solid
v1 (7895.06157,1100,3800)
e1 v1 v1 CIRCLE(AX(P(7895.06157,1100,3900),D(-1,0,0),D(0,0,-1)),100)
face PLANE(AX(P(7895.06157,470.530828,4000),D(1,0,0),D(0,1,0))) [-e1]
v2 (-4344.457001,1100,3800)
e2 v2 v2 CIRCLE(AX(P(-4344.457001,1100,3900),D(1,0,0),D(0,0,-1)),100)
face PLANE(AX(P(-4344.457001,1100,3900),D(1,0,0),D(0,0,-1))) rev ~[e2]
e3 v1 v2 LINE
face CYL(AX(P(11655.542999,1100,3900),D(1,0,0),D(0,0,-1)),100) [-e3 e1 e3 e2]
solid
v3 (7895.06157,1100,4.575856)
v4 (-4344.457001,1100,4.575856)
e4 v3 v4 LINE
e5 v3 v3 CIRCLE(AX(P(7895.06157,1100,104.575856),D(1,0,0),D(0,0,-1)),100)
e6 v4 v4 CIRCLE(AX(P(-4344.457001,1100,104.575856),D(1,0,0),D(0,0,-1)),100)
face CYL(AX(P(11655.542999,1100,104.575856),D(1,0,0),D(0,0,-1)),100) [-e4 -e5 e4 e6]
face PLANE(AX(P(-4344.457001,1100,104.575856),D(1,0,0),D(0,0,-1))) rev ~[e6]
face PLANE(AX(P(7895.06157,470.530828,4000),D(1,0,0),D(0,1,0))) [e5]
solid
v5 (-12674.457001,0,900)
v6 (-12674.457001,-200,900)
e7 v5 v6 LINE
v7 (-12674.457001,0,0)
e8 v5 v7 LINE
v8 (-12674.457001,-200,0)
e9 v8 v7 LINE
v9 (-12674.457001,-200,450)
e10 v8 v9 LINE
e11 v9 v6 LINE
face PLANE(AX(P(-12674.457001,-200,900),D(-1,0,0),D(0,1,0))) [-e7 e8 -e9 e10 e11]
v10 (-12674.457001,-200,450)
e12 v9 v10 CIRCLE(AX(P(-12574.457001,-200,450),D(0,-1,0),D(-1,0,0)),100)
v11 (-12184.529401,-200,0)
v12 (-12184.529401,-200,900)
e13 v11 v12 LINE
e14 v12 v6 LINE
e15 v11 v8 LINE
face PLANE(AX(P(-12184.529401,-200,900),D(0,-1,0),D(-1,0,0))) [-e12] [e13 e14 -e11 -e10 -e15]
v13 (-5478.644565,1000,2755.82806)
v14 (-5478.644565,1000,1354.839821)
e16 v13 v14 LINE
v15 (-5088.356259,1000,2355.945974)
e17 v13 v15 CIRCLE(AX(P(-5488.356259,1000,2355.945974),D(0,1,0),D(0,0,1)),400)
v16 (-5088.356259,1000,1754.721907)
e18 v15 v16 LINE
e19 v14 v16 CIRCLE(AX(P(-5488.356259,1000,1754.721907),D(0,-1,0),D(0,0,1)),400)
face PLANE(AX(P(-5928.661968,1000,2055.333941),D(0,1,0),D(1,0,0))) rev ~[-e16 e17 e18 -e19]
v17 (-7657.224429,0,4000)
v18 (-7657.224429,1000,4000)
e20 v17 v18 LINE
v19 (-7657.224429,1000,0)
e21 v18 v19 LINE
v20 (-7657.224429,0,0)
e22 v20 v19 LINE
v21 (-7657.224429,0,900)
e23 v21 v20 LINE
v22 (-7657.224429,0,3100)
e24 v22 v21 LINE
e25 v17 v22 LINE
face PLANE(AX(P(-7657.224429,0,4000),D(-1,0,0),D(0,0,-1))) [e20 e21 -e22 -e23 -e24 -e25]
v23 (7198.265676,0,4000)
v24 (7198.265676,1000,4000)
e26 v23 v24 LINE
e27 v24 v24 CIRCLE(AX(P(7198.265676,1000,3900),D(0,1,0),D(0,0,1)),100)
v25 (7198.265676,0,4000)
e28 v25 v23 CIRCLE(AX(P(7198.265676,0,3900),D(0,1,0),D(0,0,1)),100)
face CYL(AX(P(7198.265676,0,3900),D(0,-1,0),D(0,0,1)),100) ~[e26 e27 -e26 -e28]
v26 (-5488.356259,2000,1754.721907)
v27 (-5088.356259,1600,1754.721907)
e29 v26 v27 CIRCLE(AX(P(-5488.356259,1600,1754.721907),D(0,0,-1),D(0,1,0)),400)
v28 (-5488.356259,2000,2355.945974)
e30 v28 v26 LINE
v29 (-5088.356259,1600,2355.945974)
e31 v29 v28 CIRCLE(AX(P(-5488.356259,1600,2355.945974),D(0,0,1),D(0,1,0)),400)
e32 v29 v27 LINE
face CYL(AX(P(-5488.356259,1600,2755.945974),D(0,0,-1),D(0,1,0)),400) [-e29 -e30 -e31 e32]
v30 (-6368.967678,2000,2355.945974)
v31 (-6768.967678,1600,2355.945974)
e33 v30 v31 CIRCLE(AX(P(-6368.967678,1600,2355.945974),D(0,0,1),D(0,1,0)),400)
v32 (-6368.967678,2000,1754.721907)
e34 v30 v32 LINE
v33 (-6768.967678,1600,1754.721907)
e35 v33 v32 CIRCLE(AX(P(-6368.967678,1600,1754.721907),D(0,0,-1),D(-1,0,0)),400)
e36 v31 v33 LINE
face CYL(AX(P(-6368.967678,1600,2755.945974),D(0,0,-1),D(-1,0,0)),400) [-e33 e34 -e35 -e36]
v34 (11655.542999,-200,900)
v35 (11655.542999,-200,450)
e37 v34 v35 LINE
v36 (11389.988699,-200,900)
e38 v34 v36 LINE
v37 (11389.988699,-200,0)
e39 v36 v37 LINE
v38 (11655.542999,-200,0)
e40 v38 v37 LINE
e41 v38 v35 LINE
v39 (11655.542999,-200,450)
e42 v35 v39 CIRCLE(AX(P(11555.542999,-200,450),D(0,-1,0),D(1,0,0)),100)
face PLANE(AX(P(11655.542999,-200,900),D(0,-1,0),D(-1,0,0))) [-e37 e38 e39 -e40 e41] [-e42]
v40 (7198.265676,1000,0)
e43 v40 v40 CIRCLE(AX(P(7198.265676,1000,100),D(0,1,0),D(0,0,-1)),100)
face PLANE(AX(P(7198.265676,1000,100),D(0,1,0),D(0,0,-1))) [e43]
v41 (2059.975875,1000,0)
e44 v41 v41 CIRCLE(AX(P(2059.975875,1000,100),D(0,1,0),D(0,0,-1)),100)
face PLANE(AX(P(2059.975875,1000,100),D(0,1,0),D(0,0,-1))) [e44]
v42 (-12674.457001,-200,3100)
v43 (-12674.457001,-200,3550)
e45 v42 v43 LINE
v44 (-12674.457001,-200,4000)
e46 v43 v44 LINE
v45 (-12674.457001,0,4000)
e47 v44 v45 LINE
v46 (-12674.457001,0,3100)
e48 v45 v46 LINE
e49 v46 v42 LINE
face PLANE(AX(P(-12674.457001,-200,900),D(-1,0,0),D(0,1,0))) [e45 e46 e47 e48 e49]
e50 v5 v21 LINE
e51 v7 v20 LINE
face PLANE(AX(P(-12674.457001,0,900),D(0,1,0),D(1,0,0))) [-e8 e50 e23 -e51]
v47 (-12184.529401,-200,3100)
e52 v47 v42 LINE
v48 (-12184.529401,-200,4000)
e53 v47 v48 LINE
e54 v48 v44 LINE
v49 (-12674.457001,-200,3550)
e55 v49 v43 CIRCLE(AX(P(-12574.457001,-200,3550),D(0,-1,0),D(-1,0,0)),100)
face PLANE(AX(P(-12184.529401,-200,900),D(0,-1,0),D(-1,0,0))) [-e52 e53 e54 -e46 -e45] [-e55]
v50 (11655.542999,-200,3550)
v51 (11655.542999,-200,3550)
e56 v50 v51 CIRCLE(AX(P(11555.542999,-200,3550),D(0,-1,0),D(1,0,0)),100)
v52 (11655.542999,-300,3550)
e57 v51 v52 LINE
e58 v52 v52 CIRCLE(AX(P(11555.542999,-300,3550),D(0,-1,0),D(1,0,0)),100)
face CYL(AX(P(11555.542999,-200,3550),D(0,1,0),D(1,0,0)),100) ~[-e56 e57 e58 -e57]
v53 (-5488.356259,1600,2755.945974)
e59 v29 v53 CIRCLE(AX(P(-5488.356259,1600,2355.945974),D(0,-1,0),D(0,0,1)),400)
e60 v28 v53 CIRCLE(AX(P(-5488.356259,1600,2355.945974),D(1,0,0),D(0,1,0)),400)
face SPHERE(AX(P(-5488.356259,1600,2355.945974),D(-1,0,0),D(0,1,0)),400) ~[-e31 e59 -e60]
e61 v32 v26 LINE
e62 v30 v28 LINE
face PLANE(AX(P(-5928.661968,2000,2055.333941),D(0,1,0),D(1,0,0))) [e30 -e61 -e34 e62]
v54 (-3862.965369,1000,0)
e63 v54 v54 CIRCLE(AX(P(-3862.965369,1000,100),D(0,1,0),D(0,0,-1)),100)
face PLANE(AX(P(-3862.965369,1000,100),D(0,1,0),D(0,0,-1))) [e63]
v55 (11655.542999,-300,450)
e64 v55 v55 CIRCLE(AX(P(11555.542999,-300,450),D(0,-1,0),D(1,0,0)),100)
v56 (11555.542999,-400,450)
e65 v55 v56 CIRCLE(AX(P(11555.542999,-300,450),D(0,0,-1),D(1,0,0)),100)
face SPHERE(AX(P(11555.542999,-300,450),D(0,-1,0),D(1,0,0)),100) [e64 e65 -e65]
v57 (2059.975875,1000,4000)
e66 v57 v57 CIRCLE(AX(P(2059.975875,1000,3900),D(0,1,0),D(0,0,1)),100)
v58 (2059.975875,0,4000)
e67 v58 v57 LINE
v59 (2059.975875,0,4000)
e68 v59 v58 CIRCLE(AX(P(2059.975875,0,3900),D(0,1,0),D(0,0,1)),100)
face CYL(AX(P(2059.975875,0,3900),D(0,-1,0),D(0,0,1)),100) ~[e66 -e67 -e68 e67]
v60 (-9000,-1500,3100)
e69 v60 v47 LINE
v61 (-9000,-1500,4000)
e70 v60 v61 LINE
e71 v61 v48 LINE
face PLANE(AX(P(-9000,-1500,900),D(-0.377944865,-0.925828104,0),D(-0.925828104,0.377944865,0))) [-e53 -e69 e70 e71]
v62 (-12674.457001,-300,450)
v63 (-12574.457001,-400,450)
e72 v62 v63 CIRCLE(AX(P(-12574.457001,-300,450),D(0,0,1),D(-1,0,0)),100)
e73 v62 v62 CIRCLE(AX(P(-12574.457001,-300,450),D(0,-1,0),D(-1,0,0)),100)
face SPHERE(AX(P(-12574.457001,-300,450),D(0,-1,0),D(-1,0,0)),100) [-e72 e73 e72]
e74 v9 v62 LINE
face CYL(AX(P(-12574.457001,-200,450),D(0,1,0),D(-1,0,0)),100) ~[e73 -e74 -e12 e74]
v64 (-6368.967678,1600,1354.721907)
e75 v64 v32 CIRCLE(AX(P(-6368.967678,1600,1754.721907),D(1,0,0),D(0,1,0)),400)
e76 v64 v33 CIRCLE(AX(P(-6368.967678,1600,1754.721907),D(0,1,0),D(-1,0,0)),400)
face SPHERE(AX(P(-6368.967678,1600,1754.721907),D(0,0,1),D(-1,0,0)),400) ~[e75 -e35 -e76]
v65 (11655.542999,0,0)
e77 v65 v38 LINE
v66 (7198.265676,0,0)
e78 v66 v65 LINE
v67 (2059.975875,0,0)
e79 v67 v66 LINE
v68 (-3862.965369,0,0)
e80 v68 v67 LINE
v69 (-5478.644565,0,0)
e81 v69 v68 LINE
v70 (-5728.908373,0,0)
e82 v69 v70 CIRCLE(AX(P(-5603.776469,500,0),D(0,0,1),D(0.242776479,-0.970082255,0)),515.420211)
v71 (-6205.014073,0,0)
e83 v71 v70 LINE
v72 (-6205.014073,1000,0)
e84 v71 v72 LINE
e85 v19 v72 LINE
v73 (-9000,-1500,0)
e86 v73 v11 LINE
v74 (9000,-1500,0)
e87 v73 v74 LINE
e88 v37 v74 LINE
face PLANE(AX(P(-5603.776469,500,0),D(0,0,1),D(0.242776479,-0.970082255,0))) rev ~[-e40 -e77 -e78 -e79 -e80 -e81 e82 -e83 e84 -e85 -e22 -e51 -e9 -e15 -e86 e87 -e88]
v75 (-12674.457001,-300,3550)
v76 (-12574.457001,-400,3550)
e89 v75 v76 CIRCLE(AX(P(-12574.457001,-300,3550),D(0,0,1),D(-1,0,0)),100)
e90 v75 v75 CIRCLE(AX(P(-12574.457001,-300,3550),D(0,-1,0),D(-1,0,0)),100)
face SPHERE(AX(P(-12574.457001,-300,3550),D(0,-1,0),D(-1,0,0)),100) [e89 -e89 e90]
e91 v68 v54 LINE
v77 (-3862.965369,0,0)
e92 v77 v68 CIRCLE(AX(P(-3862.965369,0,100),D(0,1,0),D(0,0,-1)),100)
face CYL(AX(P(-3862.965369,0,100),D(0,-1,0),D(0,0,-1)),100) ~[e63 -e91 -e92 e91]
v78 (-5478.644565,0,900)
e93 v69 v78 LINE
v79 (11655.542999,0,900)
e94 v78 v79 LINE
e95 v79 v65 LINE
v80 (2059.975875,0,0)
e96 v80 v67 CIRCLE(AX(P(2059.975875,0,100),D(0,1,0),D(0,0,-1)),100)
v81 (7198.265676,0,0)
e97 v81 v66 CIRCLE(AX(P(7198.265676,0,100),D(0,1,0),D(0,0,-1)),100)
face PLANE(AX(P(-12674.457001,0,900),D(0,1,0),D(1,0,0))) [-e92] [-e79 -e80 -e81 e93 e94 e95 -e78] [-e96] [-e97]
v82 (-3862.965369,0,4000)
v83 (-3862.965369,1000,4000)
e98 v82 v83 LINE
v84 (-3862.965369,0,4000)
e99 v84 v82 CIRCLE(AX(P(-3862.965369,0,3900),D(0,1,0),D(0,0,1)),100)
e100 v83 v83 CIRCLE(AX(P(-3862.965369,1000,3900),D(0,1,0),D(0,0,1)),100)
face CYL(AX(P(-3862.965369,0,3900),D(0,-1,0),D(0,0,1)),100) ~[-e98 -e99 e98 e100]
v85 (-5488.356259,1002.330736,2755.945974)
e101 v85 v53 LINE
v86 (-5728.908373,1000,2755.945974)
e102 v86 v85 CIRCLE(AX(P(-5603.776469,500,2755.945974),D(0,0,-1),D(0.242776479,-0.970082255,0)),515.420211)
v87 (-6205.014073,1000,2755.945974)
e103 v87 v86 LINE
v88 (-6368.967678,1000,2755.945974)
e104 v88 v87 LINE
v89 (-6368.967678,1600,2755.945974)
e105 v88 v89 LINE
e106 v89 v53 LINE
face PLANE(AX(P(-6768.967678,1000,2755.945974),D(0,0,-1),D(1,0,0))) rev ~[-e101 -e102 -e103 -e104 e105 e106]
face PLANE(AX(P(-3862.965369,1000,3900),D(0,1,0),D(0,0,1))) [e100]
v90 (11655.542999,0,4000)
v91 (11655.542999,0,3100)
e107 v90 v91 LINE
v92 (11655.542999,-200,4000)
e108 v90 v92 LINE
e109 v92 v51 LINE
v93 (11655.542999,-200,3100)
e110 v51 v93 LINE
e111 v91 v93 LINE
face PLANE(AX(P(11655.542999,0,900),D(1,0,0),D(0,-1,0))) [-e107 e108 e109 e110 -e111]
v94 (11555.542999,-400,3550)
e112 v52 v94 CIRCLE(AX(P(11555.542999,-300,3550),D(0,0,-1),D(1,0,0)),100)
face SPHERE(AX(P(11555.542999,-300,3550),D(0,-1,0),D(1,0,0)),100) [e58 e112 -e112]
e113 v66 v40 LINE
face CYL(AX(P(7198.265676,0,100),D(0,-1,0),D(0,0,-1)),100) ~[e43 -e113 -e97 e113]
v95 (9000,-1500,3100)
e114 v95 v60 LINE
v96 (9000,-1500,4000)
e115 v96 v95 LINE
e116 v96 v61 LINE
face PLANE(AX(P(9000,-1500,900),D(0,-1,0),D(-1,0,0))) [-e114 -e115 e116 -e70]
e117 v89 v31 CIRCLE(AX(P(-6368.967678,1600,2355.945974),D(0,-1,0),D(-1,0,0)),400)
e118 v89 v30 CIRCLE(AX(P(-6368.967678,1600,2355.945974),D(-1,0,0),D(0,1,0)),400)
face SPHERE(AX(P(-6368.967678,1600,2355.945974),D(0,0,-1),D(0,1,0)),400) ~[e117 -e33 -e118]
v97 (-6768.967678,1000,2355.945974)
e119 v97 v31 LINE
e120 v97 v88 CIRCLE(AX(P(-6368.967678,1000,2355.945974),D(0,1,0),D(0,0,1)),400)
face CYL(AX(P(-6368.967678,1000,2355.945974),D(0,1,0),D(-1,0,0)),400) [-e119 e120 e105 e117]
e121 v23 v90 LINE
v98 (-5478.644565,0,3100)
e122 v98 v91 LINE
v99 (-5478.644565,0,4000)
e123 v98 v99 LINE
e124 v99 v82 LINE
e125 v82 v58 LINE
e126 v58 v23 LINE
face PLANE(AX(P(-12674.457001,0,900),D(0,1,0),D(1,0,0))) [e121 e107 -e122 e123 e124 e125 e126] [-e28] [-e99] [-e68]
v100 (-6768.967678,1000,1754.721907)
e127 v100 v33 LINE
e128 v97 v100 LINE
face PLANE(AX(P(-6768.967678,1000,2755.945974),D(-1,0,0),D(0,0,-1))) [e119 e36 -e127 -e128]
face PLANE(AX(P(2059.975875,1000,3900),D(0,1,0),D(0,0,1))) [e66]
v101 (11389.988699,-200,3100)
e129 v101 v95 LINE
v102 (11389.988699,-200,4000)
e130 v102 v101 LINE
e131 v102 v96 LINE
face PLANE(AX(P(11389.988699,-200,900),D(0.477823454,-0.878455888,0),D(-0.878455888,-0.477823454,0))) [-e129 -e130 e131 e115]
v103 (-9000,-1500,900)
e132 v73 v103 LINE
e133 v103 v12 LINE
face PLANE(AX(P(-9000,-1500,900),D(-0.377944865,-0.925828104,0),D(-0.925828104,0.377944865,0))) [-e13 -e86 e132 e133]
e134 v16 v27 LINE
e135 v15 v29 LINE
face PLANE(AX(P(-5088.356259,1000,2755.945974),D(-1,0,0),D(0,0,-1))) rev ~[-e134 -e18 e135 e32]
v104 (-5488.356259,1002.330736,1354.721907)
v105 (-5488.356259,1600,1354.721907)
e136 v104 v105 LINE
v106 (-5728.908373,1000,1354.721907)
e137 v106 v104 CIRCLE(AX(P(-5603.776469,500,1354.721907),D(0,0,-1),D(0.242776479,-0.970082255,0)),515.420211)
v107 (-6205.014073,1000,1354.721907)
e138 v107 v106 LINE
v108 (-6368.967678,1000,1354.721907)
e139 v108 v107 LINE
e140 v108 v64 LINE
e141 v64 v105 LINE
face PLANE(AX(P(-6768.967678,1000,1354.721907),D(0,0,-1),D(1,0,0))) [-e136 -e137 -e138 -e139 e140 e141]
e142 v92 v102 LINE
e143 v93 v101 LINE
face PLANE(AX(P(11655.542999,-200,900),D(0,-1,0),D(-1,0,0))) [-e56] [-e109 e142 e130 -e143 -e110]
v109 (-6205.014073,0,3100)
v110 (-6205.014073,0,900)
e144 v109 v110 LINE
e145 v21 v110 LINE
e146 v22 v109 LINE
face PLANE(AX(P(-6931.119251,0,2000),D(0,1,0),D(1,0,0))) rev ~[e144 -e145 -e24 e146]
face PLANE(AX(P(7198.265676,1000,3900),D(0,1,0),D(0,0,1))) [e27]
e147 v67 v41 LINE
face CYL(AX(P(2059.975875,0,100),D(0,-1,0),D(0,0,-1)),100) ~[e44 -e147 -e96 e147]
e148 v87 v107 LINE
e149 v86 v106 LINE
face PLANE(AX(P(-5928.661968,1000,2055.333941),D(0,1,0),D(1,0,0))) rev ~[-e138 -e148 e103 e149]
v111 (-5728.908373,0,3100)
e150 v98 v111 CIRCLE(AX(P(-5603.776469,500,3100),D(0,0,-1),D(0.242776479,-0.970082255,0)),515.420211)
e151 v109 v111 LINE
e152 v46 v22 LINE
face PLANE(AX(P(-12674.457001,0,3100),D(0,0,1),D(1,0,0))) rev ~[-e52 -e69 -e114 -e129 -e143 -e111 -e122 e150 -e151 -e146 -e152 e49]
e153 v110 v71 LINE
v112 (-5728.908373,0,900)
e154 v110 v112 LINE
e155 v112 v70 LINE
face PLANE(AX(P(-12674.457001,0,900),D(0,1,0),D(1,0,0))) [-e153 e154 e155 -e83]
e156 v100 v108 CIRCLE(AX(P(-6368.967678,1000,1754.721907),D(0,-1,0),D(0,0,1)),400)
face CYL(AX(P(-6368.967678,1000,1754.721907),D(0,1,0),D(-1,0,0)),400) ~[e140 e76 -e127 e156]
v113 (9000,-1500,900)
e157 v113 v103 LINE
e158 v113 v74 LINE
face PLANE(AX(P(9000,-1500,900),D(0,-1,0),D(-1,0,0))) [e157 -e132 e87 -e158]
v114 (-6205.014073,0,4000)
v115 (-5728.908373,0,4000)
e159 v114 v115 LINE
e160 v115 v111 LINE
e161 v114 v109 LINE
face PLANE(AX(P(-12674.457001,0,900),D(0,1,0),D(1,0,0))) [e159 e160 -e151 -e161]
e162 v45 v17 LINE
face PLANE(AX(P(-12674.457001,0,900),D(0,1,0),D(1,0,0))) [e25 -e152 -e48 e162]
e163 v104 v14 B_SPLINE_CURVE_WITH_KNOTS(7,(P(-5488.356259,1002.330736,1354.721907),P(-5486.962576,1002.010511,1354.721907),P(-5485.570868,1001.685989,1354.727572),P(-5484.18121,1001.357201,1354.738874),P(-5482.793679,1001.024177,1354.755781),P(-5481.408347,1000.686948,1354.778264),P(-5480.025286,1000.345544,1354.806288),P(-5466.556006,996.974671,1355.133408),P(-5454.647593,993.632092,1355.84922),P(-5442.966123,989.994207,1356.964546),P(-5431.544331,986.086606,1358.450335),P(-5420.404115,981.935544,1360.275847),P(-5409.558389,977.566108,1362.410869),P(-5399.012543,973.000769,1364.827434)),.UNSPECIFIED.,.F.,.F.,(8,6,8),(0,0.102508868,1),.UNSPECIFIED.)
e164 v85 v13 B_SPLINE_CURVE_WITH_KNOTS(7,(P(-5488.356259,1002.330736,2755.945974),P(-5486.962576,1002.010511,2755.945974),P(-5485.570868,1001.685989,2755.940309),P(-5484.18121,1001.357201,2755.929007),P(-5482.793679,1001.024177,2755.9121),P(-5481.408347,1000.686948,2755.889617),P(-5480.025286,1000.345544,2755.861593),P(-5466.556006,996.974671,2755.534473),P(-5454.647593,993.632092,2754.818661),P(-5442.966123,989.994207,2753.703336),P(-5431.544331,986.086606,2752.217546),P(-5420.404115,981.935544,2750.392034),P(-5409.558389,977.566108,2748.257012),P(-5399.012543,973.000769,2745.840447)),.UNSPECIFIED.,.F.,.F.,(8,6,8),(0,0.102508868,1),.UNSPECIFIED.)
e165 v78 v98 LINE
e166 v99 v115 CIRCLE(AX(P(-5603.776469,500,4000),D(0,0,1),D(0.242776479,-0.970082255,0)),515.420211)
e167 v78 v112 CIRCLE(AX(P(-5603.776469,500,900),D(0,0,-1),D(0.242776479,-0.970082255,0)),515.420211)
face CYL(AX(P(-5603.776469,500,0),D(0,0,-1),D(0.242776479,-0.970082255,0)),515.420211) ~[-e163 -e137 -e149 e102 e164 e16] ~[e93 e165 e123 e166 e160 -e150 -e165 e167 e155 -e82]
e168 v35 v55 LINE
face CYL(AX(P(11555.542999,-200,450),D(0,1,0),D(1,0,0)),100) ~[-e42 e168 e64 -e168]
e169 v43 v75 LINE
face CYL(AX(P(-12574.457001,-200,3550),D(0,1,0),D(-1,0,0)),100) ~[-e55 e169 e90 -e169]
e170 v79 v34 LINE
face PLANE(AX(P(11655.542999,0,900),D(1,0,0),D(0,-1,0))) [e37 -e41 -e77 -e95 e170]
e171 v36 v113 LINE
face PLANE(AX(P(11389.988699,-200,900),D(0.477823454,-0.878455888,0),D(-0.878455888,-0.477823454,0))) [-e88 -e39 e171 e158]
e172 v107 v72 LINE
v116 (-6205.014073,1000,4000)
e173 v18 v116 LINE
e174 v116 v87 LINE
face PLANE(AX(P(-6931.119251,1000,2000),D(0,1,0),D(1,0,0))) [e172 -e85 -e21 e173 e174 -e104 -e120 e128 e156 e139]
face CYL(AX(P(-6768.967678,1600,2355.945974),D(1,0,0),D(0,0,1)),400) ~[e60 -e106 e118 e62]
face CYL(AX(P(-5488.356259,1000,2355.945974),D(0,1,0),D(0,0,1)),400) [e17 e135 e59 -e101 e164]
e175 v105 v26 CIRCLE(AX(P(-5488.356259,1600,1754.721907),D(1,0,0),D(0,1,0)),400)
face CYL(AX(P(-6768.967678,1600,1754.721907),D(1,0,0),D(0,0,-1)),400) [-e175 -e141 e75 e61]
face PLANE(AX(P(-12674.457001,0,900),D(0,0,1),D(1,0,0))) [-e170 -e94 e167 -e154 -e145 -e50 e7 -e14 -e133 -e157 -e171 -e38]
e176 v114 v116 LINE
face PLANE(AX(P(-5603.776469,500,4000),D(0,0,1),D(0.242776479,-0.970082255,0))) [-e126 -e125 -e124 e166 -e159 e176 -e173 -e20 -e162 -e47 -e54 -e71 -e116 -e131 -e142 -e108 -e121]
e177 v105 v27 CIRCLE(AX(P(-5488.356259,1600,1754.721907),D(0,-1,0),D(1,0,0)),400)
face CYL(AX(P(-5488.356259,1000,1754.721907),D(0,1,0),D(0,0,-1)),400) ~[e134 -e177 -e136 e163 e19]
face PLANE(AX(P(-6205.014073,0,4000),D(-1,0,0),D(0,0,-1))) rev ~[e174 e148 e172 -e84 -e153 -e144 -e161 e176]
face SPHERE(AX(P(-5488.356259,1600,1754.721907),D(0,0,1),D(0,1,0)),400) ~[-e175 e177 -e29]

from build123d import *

# Parameters (mm, degrees)
SALIENTE_EXTRUIR1_DEPTH    = 900
CROQUIS3_R                 = 100
SALIENTE_EXTRUIR3_DEPTH    = 200
REDONDEO2_R                = 100
CROQUIS5_R                 = 100
SALIENTE_EXTRUIR4_DEPTH    = 200
REDONDEO4_R                = 100
SALIENTE_EXTRUIR5_DEPTH    = 3100
CROQUIS7_W                 = 24330
CROQUIS7_H                 = 2200
CORTAR_EXTRUIR1_DEPTH      = 3100
CROQUIS8_R                 = 100
SALIENTE_EXTRUIR6_DEPTH    = 200
REDONDEO5_R                = 100
CROQUIS9_W                 = 1452.210355606
CROQUIS9_H                 = 4000
SALIENTE_EXTRUIR7_DEPTH    = 1000
SALIENTE_EXTRUIR8_START    = -4000
CROQUIS10_R                = 515.420210515
SALIENTE_EXTRUIR8_DEPTH    = 4000
CROQUIS11_W                = 1680.611419081
CROQUIS11_H                = 1401.224066889
SALIENTE_EXTRUIR9_DEPTH    = 1000
REDONDEO6_R                = 400
CROQUIS12_R                = 100
SALIENTE_EXTRUIR10_DEPTH   = 1000
CROQUIS13_R                = 100
SALIENTE_EXTRUIR11_DEPTH   = 16000
SALIENTE_EXTRUIR11_2_DEPTH = 16000
CROQUIS14_W                = 3948.440701422
CROQUIS14_H                = 1335.33617589
CORTAR_EXTRUIR2_DEPTH      = 16000


with BuildPart() as part:
    # Croquis1 → Saliente-Extruir1 (new body)
    with BuildSketch(Plane.XY):
        Polygon((-12674.457000985, 0), (11655.542999015, 0), (11655.542999015, -200), (11389.988699114, -200), (9000, -1500), (0, -1500), (-9000, -1500), (-12184.529400853, -200), (-12674.457000985, -200), align=None)
    extrude(amount=SALIENTE_EXTRUIR1_DEPTH)

    # Croquis3 → Saliente-Extruir3 (add)
    with BuildSketch(Plane.XZ.offset(200)):
        with Locations((11555.542999015, 450)):
            Circle(CROQUIS3_R)
    extrude(amount=SALIENTE_EXTRUIR3_DEPTH)

    # Redondeo2
    redondeo2_edges = [part.edges().sort_by_distance(p)[0] for p in [
        (11455.542999015, -400, 450),
    ]]
    fillet(redondeo2_edges, radius=REDONDEO2_R)

    # Croquis5 → Saliente-Extruir4 (add)
    with BuildSketch(Plane.XZ.offset(200)):
        with Locations(Location((-12574.457000985, 450, 0), (0, 0, 180))):
            Circle(CROQUIS5_R)
    extrude(amount=SALIENTE_EXTRUIR4_DEPTH)

    # Redondeo4
    redondeo4_edges = [part.edges().sort_by_distance(p)[0] for p in [
        (-12474.457000985, -400, 450),
    ]]
    fillet(redondeo4_edges, radius=REDONDEO4_R)

    # Croquis6 → Saliente-Extruir5 (add)
    with BuildSketch(Plane.XY.offset(900)):
        Polygon((-12674.457000985, -200), (-12674.457000985, 0), (11655.542999015, 0), (11655.542999015, -200), (11389.988699114, -200), (9000, -1500), (-9000, -1500), (-12184.529400853, -200), align=None)
    extrude(amount=SALIENTE_EXTRUIR5_DEPTH)

    # Croquis7 → Cortar-Extruir1 (cut)
    with BuildSketch(Plane(origin=(0, 0, 0), x_dir=(1, 0, 0), z_dir=(0, 1, 0))):
        with Locations((-509.457000985, -2000)):
            Rectangle(CROQUIS7_W, CROQUIS7_H)
    extrude(amount=-CORTAR_EXTRUIR1_DEPTH, mode=Mode.SUBTRACT)


with BuildPart() as cortar_extruir1_piece_1:
    # of the separate pieces the step leaves, piece 1, a body of its own (cortar_extruir1_pieces)
    add(part.part.solids().sort_by_distance((-12674.457000985, -300, 450))[0])



with BuildPart() as cortar_extruir1_piece_2:
    # of the separate pieces the step leaves, piece 2, a body of its own (cortar_extruir1_pieces)
    add(part.part.solids().sort_by_distance((-12674.457000985, -200, 4000))[0])

    # Croquis8 → Saliente-Extruir6 (add)
    with BuildSketch(Plane.XZ.offset(200)):
        with Locations(Location((-12574.457000985, 3550, 0), (0, 0, 180))):
            Circle(CROQUIS8_R)
        with Locations((11555.542999015, 3550)):
            Circle(CROQUIS8_R)
    extrude(amount=SALIENTE_EXTRUIR6_DEPTH)

    # Redondeo5
    redondeo5_edges = [cortar_extruir1_piece_2.edges().sort_by_distance(p)[0] for p in [
        (11455.542999015, -400, 3550),
        (-12474.457000985, -400, 3550),
    ]]
    fillet(redondeo5_edges, radius=REDONDEO5_R)


with BuildPart() as cortar_extruir1_piece_1_1:
    add(cortar_extruir1_piece_1.part)

    add(cortar_extruir1_piece_2.part)  # Saliente-Extruir7 merges Cortar-Extruir1 piece 2
    # Croquis9 → Saliente-Extruir7 (add)
    with BuildSketch(Plane(origin=(0, 0, 0), x_dir=(1, 0, 0), z_dir=(0, 1, 0))):
        with Locations((-6931.119250737, -2000)):
            Rectangle(CROQUIS9_W, CROQUIS9_H)
    extrude(amount=SALIENTE_EXTRUIR7_DEPTH)

    # Croquis10 → Saliente-Extruir8 (add)
    with BuildSketch(Plane.XY.offset(4000).offset(SALIENTE_EXTRUIR8_START)):
        with Locations(Location((-5603.776469346, 500, 0), (0, 0, 284.050468551))):
            Circle(CROQUIS10_R)
    extrude(amount=SALIENTE_EXTRUIR8_DEPTH)

    # Croquis11 → Saliente-Extruir9 (add)
    with BuildSketch(Plane(origin=(0, 1000, 0), x_dir=(1, 0, 0), z_dir=(0, 1, 0))):
        with Locations((-5928.661968373, -2055.333940572)):
            Rectangle(CROQUIS11_W, CROQUIS11_H)
    extrude(amount=SALIENTE_EXTRUIR9_DEPTH)

    # Redondeo6
    redondeo6_edges = [cortar_extruir1_piece_1_1.edges().sort_by_distance(p)[0] for p in [
        (-6768.967677913, 2000, 2055.333940572),
        (-6768.967677913, 1500, 1354.721907127),
        (-5928.661968372, 2000, 2755.945974016),
        (-6768.967677913, 1500, 2755.945974016),
        (-5088.356258832, 2000, 2055.333940572),
        (-5088.356258832, 1500, 2755.945974016),
        (-5928.661968372, 2000, 1354.721907127),
        (-5088.356258832, 1500, 1354.721907127),
    ]]
    fillet(redondeo6_edges, radius=REDONDEO6_R)

    # Croquis12 → Saliente-Extruir10 (add)
    with BuildSketch(Plane(origin=(0, 0, 0), x_dir=(1, 0, 0), z_dir=(0, 1, 0))):
        with Locations(Location((-3862.965368931, -3900, 0), (0, 0, 270))):
            Circle(CROQUIS12_R)
        with Locations(Location((2059.975874674, -3900, 0), (0, 0, 270))):
            Circle(CROQUIS12_R)
        with Locations(Location((7198.265675863, -3900, 0), (0, 0, 270))):
            Circle(CROQUIS12_R)
        with Locations(Location((-3862.965368931, -100, 0), (0, 0, 90))):
            Circle(CROQUIS12_R)
        with Locations(Location((2059.975874674, -100, 0), (0, 0, 90))):
            Circle(CROQUIS12_R)
        with Locations(Location((7198.265675863, -100, 0), (0, 0, 90))):
            Circle(CROQUIS12_R)
    extrude(amount=SALIENTE_EXTRUIR10_DEPTH)


with BuildPart() as body_2:
    # Croquis13 → Saliente-Extruir11 (new body)
    with BuildSketch(Plane(origin=(11655.542999015, 0, 0), x_dir=(0, 0, -1), z_dir=(1, 0, 0))):
        with Locations((-3900, 1100)):
            Circle(CROQUIS13_R)
    extrude(amount=-SALIENTE_EXTRUIR11_DEPTH)


with BuildPart() as body_3:
    # Croquis13 → Saliente-Extruir11 2 (new body)
    with BuildSketch(Plane(origin=(11655.542999015, 0, 0), x_dir=(0, 0, -1), z_dir=(1, 0, 0))):
        with Locations((-104.575856154, 1100)):
            Circle(CROQUIS13_R)
    extrude(amount=-SALIENTE_EXTRUIR11_2_DEPTH)


with BuildPart() as cortar_extruir2_tool:
    # Croquis14 → Cortar-Extruir2 (new body)
    with BuildSketch(Plane.XY.offset(4000)):
        with Locations((9869.28192048, 1138.198915555)):
            Rectangle(CROQUIS14_W, CROQUIS14_H)
    extrude(amount=-CORTAR_EXTRUIR2_DEPTH)


with BuildPart() as body_2_1:
    add(body_2.part)

    # Cortar-Extruir2: cut by cortar_extruir2_tool
    add(cortar_extruir2_tool.part, mode=Mode.SUBTRACT)


with BuildPart() as body_3_1:
    add(body_3.part)

    # Cortar-Extruir2: cut by cortar_extruir2_tool
    add(cortar_extruir2_tool.part, mode=Mode.SUBTRACT)


solid = Compound([cortar_extruir1_piece_1_1.part, body_2_1.part, body_3_1.part])
